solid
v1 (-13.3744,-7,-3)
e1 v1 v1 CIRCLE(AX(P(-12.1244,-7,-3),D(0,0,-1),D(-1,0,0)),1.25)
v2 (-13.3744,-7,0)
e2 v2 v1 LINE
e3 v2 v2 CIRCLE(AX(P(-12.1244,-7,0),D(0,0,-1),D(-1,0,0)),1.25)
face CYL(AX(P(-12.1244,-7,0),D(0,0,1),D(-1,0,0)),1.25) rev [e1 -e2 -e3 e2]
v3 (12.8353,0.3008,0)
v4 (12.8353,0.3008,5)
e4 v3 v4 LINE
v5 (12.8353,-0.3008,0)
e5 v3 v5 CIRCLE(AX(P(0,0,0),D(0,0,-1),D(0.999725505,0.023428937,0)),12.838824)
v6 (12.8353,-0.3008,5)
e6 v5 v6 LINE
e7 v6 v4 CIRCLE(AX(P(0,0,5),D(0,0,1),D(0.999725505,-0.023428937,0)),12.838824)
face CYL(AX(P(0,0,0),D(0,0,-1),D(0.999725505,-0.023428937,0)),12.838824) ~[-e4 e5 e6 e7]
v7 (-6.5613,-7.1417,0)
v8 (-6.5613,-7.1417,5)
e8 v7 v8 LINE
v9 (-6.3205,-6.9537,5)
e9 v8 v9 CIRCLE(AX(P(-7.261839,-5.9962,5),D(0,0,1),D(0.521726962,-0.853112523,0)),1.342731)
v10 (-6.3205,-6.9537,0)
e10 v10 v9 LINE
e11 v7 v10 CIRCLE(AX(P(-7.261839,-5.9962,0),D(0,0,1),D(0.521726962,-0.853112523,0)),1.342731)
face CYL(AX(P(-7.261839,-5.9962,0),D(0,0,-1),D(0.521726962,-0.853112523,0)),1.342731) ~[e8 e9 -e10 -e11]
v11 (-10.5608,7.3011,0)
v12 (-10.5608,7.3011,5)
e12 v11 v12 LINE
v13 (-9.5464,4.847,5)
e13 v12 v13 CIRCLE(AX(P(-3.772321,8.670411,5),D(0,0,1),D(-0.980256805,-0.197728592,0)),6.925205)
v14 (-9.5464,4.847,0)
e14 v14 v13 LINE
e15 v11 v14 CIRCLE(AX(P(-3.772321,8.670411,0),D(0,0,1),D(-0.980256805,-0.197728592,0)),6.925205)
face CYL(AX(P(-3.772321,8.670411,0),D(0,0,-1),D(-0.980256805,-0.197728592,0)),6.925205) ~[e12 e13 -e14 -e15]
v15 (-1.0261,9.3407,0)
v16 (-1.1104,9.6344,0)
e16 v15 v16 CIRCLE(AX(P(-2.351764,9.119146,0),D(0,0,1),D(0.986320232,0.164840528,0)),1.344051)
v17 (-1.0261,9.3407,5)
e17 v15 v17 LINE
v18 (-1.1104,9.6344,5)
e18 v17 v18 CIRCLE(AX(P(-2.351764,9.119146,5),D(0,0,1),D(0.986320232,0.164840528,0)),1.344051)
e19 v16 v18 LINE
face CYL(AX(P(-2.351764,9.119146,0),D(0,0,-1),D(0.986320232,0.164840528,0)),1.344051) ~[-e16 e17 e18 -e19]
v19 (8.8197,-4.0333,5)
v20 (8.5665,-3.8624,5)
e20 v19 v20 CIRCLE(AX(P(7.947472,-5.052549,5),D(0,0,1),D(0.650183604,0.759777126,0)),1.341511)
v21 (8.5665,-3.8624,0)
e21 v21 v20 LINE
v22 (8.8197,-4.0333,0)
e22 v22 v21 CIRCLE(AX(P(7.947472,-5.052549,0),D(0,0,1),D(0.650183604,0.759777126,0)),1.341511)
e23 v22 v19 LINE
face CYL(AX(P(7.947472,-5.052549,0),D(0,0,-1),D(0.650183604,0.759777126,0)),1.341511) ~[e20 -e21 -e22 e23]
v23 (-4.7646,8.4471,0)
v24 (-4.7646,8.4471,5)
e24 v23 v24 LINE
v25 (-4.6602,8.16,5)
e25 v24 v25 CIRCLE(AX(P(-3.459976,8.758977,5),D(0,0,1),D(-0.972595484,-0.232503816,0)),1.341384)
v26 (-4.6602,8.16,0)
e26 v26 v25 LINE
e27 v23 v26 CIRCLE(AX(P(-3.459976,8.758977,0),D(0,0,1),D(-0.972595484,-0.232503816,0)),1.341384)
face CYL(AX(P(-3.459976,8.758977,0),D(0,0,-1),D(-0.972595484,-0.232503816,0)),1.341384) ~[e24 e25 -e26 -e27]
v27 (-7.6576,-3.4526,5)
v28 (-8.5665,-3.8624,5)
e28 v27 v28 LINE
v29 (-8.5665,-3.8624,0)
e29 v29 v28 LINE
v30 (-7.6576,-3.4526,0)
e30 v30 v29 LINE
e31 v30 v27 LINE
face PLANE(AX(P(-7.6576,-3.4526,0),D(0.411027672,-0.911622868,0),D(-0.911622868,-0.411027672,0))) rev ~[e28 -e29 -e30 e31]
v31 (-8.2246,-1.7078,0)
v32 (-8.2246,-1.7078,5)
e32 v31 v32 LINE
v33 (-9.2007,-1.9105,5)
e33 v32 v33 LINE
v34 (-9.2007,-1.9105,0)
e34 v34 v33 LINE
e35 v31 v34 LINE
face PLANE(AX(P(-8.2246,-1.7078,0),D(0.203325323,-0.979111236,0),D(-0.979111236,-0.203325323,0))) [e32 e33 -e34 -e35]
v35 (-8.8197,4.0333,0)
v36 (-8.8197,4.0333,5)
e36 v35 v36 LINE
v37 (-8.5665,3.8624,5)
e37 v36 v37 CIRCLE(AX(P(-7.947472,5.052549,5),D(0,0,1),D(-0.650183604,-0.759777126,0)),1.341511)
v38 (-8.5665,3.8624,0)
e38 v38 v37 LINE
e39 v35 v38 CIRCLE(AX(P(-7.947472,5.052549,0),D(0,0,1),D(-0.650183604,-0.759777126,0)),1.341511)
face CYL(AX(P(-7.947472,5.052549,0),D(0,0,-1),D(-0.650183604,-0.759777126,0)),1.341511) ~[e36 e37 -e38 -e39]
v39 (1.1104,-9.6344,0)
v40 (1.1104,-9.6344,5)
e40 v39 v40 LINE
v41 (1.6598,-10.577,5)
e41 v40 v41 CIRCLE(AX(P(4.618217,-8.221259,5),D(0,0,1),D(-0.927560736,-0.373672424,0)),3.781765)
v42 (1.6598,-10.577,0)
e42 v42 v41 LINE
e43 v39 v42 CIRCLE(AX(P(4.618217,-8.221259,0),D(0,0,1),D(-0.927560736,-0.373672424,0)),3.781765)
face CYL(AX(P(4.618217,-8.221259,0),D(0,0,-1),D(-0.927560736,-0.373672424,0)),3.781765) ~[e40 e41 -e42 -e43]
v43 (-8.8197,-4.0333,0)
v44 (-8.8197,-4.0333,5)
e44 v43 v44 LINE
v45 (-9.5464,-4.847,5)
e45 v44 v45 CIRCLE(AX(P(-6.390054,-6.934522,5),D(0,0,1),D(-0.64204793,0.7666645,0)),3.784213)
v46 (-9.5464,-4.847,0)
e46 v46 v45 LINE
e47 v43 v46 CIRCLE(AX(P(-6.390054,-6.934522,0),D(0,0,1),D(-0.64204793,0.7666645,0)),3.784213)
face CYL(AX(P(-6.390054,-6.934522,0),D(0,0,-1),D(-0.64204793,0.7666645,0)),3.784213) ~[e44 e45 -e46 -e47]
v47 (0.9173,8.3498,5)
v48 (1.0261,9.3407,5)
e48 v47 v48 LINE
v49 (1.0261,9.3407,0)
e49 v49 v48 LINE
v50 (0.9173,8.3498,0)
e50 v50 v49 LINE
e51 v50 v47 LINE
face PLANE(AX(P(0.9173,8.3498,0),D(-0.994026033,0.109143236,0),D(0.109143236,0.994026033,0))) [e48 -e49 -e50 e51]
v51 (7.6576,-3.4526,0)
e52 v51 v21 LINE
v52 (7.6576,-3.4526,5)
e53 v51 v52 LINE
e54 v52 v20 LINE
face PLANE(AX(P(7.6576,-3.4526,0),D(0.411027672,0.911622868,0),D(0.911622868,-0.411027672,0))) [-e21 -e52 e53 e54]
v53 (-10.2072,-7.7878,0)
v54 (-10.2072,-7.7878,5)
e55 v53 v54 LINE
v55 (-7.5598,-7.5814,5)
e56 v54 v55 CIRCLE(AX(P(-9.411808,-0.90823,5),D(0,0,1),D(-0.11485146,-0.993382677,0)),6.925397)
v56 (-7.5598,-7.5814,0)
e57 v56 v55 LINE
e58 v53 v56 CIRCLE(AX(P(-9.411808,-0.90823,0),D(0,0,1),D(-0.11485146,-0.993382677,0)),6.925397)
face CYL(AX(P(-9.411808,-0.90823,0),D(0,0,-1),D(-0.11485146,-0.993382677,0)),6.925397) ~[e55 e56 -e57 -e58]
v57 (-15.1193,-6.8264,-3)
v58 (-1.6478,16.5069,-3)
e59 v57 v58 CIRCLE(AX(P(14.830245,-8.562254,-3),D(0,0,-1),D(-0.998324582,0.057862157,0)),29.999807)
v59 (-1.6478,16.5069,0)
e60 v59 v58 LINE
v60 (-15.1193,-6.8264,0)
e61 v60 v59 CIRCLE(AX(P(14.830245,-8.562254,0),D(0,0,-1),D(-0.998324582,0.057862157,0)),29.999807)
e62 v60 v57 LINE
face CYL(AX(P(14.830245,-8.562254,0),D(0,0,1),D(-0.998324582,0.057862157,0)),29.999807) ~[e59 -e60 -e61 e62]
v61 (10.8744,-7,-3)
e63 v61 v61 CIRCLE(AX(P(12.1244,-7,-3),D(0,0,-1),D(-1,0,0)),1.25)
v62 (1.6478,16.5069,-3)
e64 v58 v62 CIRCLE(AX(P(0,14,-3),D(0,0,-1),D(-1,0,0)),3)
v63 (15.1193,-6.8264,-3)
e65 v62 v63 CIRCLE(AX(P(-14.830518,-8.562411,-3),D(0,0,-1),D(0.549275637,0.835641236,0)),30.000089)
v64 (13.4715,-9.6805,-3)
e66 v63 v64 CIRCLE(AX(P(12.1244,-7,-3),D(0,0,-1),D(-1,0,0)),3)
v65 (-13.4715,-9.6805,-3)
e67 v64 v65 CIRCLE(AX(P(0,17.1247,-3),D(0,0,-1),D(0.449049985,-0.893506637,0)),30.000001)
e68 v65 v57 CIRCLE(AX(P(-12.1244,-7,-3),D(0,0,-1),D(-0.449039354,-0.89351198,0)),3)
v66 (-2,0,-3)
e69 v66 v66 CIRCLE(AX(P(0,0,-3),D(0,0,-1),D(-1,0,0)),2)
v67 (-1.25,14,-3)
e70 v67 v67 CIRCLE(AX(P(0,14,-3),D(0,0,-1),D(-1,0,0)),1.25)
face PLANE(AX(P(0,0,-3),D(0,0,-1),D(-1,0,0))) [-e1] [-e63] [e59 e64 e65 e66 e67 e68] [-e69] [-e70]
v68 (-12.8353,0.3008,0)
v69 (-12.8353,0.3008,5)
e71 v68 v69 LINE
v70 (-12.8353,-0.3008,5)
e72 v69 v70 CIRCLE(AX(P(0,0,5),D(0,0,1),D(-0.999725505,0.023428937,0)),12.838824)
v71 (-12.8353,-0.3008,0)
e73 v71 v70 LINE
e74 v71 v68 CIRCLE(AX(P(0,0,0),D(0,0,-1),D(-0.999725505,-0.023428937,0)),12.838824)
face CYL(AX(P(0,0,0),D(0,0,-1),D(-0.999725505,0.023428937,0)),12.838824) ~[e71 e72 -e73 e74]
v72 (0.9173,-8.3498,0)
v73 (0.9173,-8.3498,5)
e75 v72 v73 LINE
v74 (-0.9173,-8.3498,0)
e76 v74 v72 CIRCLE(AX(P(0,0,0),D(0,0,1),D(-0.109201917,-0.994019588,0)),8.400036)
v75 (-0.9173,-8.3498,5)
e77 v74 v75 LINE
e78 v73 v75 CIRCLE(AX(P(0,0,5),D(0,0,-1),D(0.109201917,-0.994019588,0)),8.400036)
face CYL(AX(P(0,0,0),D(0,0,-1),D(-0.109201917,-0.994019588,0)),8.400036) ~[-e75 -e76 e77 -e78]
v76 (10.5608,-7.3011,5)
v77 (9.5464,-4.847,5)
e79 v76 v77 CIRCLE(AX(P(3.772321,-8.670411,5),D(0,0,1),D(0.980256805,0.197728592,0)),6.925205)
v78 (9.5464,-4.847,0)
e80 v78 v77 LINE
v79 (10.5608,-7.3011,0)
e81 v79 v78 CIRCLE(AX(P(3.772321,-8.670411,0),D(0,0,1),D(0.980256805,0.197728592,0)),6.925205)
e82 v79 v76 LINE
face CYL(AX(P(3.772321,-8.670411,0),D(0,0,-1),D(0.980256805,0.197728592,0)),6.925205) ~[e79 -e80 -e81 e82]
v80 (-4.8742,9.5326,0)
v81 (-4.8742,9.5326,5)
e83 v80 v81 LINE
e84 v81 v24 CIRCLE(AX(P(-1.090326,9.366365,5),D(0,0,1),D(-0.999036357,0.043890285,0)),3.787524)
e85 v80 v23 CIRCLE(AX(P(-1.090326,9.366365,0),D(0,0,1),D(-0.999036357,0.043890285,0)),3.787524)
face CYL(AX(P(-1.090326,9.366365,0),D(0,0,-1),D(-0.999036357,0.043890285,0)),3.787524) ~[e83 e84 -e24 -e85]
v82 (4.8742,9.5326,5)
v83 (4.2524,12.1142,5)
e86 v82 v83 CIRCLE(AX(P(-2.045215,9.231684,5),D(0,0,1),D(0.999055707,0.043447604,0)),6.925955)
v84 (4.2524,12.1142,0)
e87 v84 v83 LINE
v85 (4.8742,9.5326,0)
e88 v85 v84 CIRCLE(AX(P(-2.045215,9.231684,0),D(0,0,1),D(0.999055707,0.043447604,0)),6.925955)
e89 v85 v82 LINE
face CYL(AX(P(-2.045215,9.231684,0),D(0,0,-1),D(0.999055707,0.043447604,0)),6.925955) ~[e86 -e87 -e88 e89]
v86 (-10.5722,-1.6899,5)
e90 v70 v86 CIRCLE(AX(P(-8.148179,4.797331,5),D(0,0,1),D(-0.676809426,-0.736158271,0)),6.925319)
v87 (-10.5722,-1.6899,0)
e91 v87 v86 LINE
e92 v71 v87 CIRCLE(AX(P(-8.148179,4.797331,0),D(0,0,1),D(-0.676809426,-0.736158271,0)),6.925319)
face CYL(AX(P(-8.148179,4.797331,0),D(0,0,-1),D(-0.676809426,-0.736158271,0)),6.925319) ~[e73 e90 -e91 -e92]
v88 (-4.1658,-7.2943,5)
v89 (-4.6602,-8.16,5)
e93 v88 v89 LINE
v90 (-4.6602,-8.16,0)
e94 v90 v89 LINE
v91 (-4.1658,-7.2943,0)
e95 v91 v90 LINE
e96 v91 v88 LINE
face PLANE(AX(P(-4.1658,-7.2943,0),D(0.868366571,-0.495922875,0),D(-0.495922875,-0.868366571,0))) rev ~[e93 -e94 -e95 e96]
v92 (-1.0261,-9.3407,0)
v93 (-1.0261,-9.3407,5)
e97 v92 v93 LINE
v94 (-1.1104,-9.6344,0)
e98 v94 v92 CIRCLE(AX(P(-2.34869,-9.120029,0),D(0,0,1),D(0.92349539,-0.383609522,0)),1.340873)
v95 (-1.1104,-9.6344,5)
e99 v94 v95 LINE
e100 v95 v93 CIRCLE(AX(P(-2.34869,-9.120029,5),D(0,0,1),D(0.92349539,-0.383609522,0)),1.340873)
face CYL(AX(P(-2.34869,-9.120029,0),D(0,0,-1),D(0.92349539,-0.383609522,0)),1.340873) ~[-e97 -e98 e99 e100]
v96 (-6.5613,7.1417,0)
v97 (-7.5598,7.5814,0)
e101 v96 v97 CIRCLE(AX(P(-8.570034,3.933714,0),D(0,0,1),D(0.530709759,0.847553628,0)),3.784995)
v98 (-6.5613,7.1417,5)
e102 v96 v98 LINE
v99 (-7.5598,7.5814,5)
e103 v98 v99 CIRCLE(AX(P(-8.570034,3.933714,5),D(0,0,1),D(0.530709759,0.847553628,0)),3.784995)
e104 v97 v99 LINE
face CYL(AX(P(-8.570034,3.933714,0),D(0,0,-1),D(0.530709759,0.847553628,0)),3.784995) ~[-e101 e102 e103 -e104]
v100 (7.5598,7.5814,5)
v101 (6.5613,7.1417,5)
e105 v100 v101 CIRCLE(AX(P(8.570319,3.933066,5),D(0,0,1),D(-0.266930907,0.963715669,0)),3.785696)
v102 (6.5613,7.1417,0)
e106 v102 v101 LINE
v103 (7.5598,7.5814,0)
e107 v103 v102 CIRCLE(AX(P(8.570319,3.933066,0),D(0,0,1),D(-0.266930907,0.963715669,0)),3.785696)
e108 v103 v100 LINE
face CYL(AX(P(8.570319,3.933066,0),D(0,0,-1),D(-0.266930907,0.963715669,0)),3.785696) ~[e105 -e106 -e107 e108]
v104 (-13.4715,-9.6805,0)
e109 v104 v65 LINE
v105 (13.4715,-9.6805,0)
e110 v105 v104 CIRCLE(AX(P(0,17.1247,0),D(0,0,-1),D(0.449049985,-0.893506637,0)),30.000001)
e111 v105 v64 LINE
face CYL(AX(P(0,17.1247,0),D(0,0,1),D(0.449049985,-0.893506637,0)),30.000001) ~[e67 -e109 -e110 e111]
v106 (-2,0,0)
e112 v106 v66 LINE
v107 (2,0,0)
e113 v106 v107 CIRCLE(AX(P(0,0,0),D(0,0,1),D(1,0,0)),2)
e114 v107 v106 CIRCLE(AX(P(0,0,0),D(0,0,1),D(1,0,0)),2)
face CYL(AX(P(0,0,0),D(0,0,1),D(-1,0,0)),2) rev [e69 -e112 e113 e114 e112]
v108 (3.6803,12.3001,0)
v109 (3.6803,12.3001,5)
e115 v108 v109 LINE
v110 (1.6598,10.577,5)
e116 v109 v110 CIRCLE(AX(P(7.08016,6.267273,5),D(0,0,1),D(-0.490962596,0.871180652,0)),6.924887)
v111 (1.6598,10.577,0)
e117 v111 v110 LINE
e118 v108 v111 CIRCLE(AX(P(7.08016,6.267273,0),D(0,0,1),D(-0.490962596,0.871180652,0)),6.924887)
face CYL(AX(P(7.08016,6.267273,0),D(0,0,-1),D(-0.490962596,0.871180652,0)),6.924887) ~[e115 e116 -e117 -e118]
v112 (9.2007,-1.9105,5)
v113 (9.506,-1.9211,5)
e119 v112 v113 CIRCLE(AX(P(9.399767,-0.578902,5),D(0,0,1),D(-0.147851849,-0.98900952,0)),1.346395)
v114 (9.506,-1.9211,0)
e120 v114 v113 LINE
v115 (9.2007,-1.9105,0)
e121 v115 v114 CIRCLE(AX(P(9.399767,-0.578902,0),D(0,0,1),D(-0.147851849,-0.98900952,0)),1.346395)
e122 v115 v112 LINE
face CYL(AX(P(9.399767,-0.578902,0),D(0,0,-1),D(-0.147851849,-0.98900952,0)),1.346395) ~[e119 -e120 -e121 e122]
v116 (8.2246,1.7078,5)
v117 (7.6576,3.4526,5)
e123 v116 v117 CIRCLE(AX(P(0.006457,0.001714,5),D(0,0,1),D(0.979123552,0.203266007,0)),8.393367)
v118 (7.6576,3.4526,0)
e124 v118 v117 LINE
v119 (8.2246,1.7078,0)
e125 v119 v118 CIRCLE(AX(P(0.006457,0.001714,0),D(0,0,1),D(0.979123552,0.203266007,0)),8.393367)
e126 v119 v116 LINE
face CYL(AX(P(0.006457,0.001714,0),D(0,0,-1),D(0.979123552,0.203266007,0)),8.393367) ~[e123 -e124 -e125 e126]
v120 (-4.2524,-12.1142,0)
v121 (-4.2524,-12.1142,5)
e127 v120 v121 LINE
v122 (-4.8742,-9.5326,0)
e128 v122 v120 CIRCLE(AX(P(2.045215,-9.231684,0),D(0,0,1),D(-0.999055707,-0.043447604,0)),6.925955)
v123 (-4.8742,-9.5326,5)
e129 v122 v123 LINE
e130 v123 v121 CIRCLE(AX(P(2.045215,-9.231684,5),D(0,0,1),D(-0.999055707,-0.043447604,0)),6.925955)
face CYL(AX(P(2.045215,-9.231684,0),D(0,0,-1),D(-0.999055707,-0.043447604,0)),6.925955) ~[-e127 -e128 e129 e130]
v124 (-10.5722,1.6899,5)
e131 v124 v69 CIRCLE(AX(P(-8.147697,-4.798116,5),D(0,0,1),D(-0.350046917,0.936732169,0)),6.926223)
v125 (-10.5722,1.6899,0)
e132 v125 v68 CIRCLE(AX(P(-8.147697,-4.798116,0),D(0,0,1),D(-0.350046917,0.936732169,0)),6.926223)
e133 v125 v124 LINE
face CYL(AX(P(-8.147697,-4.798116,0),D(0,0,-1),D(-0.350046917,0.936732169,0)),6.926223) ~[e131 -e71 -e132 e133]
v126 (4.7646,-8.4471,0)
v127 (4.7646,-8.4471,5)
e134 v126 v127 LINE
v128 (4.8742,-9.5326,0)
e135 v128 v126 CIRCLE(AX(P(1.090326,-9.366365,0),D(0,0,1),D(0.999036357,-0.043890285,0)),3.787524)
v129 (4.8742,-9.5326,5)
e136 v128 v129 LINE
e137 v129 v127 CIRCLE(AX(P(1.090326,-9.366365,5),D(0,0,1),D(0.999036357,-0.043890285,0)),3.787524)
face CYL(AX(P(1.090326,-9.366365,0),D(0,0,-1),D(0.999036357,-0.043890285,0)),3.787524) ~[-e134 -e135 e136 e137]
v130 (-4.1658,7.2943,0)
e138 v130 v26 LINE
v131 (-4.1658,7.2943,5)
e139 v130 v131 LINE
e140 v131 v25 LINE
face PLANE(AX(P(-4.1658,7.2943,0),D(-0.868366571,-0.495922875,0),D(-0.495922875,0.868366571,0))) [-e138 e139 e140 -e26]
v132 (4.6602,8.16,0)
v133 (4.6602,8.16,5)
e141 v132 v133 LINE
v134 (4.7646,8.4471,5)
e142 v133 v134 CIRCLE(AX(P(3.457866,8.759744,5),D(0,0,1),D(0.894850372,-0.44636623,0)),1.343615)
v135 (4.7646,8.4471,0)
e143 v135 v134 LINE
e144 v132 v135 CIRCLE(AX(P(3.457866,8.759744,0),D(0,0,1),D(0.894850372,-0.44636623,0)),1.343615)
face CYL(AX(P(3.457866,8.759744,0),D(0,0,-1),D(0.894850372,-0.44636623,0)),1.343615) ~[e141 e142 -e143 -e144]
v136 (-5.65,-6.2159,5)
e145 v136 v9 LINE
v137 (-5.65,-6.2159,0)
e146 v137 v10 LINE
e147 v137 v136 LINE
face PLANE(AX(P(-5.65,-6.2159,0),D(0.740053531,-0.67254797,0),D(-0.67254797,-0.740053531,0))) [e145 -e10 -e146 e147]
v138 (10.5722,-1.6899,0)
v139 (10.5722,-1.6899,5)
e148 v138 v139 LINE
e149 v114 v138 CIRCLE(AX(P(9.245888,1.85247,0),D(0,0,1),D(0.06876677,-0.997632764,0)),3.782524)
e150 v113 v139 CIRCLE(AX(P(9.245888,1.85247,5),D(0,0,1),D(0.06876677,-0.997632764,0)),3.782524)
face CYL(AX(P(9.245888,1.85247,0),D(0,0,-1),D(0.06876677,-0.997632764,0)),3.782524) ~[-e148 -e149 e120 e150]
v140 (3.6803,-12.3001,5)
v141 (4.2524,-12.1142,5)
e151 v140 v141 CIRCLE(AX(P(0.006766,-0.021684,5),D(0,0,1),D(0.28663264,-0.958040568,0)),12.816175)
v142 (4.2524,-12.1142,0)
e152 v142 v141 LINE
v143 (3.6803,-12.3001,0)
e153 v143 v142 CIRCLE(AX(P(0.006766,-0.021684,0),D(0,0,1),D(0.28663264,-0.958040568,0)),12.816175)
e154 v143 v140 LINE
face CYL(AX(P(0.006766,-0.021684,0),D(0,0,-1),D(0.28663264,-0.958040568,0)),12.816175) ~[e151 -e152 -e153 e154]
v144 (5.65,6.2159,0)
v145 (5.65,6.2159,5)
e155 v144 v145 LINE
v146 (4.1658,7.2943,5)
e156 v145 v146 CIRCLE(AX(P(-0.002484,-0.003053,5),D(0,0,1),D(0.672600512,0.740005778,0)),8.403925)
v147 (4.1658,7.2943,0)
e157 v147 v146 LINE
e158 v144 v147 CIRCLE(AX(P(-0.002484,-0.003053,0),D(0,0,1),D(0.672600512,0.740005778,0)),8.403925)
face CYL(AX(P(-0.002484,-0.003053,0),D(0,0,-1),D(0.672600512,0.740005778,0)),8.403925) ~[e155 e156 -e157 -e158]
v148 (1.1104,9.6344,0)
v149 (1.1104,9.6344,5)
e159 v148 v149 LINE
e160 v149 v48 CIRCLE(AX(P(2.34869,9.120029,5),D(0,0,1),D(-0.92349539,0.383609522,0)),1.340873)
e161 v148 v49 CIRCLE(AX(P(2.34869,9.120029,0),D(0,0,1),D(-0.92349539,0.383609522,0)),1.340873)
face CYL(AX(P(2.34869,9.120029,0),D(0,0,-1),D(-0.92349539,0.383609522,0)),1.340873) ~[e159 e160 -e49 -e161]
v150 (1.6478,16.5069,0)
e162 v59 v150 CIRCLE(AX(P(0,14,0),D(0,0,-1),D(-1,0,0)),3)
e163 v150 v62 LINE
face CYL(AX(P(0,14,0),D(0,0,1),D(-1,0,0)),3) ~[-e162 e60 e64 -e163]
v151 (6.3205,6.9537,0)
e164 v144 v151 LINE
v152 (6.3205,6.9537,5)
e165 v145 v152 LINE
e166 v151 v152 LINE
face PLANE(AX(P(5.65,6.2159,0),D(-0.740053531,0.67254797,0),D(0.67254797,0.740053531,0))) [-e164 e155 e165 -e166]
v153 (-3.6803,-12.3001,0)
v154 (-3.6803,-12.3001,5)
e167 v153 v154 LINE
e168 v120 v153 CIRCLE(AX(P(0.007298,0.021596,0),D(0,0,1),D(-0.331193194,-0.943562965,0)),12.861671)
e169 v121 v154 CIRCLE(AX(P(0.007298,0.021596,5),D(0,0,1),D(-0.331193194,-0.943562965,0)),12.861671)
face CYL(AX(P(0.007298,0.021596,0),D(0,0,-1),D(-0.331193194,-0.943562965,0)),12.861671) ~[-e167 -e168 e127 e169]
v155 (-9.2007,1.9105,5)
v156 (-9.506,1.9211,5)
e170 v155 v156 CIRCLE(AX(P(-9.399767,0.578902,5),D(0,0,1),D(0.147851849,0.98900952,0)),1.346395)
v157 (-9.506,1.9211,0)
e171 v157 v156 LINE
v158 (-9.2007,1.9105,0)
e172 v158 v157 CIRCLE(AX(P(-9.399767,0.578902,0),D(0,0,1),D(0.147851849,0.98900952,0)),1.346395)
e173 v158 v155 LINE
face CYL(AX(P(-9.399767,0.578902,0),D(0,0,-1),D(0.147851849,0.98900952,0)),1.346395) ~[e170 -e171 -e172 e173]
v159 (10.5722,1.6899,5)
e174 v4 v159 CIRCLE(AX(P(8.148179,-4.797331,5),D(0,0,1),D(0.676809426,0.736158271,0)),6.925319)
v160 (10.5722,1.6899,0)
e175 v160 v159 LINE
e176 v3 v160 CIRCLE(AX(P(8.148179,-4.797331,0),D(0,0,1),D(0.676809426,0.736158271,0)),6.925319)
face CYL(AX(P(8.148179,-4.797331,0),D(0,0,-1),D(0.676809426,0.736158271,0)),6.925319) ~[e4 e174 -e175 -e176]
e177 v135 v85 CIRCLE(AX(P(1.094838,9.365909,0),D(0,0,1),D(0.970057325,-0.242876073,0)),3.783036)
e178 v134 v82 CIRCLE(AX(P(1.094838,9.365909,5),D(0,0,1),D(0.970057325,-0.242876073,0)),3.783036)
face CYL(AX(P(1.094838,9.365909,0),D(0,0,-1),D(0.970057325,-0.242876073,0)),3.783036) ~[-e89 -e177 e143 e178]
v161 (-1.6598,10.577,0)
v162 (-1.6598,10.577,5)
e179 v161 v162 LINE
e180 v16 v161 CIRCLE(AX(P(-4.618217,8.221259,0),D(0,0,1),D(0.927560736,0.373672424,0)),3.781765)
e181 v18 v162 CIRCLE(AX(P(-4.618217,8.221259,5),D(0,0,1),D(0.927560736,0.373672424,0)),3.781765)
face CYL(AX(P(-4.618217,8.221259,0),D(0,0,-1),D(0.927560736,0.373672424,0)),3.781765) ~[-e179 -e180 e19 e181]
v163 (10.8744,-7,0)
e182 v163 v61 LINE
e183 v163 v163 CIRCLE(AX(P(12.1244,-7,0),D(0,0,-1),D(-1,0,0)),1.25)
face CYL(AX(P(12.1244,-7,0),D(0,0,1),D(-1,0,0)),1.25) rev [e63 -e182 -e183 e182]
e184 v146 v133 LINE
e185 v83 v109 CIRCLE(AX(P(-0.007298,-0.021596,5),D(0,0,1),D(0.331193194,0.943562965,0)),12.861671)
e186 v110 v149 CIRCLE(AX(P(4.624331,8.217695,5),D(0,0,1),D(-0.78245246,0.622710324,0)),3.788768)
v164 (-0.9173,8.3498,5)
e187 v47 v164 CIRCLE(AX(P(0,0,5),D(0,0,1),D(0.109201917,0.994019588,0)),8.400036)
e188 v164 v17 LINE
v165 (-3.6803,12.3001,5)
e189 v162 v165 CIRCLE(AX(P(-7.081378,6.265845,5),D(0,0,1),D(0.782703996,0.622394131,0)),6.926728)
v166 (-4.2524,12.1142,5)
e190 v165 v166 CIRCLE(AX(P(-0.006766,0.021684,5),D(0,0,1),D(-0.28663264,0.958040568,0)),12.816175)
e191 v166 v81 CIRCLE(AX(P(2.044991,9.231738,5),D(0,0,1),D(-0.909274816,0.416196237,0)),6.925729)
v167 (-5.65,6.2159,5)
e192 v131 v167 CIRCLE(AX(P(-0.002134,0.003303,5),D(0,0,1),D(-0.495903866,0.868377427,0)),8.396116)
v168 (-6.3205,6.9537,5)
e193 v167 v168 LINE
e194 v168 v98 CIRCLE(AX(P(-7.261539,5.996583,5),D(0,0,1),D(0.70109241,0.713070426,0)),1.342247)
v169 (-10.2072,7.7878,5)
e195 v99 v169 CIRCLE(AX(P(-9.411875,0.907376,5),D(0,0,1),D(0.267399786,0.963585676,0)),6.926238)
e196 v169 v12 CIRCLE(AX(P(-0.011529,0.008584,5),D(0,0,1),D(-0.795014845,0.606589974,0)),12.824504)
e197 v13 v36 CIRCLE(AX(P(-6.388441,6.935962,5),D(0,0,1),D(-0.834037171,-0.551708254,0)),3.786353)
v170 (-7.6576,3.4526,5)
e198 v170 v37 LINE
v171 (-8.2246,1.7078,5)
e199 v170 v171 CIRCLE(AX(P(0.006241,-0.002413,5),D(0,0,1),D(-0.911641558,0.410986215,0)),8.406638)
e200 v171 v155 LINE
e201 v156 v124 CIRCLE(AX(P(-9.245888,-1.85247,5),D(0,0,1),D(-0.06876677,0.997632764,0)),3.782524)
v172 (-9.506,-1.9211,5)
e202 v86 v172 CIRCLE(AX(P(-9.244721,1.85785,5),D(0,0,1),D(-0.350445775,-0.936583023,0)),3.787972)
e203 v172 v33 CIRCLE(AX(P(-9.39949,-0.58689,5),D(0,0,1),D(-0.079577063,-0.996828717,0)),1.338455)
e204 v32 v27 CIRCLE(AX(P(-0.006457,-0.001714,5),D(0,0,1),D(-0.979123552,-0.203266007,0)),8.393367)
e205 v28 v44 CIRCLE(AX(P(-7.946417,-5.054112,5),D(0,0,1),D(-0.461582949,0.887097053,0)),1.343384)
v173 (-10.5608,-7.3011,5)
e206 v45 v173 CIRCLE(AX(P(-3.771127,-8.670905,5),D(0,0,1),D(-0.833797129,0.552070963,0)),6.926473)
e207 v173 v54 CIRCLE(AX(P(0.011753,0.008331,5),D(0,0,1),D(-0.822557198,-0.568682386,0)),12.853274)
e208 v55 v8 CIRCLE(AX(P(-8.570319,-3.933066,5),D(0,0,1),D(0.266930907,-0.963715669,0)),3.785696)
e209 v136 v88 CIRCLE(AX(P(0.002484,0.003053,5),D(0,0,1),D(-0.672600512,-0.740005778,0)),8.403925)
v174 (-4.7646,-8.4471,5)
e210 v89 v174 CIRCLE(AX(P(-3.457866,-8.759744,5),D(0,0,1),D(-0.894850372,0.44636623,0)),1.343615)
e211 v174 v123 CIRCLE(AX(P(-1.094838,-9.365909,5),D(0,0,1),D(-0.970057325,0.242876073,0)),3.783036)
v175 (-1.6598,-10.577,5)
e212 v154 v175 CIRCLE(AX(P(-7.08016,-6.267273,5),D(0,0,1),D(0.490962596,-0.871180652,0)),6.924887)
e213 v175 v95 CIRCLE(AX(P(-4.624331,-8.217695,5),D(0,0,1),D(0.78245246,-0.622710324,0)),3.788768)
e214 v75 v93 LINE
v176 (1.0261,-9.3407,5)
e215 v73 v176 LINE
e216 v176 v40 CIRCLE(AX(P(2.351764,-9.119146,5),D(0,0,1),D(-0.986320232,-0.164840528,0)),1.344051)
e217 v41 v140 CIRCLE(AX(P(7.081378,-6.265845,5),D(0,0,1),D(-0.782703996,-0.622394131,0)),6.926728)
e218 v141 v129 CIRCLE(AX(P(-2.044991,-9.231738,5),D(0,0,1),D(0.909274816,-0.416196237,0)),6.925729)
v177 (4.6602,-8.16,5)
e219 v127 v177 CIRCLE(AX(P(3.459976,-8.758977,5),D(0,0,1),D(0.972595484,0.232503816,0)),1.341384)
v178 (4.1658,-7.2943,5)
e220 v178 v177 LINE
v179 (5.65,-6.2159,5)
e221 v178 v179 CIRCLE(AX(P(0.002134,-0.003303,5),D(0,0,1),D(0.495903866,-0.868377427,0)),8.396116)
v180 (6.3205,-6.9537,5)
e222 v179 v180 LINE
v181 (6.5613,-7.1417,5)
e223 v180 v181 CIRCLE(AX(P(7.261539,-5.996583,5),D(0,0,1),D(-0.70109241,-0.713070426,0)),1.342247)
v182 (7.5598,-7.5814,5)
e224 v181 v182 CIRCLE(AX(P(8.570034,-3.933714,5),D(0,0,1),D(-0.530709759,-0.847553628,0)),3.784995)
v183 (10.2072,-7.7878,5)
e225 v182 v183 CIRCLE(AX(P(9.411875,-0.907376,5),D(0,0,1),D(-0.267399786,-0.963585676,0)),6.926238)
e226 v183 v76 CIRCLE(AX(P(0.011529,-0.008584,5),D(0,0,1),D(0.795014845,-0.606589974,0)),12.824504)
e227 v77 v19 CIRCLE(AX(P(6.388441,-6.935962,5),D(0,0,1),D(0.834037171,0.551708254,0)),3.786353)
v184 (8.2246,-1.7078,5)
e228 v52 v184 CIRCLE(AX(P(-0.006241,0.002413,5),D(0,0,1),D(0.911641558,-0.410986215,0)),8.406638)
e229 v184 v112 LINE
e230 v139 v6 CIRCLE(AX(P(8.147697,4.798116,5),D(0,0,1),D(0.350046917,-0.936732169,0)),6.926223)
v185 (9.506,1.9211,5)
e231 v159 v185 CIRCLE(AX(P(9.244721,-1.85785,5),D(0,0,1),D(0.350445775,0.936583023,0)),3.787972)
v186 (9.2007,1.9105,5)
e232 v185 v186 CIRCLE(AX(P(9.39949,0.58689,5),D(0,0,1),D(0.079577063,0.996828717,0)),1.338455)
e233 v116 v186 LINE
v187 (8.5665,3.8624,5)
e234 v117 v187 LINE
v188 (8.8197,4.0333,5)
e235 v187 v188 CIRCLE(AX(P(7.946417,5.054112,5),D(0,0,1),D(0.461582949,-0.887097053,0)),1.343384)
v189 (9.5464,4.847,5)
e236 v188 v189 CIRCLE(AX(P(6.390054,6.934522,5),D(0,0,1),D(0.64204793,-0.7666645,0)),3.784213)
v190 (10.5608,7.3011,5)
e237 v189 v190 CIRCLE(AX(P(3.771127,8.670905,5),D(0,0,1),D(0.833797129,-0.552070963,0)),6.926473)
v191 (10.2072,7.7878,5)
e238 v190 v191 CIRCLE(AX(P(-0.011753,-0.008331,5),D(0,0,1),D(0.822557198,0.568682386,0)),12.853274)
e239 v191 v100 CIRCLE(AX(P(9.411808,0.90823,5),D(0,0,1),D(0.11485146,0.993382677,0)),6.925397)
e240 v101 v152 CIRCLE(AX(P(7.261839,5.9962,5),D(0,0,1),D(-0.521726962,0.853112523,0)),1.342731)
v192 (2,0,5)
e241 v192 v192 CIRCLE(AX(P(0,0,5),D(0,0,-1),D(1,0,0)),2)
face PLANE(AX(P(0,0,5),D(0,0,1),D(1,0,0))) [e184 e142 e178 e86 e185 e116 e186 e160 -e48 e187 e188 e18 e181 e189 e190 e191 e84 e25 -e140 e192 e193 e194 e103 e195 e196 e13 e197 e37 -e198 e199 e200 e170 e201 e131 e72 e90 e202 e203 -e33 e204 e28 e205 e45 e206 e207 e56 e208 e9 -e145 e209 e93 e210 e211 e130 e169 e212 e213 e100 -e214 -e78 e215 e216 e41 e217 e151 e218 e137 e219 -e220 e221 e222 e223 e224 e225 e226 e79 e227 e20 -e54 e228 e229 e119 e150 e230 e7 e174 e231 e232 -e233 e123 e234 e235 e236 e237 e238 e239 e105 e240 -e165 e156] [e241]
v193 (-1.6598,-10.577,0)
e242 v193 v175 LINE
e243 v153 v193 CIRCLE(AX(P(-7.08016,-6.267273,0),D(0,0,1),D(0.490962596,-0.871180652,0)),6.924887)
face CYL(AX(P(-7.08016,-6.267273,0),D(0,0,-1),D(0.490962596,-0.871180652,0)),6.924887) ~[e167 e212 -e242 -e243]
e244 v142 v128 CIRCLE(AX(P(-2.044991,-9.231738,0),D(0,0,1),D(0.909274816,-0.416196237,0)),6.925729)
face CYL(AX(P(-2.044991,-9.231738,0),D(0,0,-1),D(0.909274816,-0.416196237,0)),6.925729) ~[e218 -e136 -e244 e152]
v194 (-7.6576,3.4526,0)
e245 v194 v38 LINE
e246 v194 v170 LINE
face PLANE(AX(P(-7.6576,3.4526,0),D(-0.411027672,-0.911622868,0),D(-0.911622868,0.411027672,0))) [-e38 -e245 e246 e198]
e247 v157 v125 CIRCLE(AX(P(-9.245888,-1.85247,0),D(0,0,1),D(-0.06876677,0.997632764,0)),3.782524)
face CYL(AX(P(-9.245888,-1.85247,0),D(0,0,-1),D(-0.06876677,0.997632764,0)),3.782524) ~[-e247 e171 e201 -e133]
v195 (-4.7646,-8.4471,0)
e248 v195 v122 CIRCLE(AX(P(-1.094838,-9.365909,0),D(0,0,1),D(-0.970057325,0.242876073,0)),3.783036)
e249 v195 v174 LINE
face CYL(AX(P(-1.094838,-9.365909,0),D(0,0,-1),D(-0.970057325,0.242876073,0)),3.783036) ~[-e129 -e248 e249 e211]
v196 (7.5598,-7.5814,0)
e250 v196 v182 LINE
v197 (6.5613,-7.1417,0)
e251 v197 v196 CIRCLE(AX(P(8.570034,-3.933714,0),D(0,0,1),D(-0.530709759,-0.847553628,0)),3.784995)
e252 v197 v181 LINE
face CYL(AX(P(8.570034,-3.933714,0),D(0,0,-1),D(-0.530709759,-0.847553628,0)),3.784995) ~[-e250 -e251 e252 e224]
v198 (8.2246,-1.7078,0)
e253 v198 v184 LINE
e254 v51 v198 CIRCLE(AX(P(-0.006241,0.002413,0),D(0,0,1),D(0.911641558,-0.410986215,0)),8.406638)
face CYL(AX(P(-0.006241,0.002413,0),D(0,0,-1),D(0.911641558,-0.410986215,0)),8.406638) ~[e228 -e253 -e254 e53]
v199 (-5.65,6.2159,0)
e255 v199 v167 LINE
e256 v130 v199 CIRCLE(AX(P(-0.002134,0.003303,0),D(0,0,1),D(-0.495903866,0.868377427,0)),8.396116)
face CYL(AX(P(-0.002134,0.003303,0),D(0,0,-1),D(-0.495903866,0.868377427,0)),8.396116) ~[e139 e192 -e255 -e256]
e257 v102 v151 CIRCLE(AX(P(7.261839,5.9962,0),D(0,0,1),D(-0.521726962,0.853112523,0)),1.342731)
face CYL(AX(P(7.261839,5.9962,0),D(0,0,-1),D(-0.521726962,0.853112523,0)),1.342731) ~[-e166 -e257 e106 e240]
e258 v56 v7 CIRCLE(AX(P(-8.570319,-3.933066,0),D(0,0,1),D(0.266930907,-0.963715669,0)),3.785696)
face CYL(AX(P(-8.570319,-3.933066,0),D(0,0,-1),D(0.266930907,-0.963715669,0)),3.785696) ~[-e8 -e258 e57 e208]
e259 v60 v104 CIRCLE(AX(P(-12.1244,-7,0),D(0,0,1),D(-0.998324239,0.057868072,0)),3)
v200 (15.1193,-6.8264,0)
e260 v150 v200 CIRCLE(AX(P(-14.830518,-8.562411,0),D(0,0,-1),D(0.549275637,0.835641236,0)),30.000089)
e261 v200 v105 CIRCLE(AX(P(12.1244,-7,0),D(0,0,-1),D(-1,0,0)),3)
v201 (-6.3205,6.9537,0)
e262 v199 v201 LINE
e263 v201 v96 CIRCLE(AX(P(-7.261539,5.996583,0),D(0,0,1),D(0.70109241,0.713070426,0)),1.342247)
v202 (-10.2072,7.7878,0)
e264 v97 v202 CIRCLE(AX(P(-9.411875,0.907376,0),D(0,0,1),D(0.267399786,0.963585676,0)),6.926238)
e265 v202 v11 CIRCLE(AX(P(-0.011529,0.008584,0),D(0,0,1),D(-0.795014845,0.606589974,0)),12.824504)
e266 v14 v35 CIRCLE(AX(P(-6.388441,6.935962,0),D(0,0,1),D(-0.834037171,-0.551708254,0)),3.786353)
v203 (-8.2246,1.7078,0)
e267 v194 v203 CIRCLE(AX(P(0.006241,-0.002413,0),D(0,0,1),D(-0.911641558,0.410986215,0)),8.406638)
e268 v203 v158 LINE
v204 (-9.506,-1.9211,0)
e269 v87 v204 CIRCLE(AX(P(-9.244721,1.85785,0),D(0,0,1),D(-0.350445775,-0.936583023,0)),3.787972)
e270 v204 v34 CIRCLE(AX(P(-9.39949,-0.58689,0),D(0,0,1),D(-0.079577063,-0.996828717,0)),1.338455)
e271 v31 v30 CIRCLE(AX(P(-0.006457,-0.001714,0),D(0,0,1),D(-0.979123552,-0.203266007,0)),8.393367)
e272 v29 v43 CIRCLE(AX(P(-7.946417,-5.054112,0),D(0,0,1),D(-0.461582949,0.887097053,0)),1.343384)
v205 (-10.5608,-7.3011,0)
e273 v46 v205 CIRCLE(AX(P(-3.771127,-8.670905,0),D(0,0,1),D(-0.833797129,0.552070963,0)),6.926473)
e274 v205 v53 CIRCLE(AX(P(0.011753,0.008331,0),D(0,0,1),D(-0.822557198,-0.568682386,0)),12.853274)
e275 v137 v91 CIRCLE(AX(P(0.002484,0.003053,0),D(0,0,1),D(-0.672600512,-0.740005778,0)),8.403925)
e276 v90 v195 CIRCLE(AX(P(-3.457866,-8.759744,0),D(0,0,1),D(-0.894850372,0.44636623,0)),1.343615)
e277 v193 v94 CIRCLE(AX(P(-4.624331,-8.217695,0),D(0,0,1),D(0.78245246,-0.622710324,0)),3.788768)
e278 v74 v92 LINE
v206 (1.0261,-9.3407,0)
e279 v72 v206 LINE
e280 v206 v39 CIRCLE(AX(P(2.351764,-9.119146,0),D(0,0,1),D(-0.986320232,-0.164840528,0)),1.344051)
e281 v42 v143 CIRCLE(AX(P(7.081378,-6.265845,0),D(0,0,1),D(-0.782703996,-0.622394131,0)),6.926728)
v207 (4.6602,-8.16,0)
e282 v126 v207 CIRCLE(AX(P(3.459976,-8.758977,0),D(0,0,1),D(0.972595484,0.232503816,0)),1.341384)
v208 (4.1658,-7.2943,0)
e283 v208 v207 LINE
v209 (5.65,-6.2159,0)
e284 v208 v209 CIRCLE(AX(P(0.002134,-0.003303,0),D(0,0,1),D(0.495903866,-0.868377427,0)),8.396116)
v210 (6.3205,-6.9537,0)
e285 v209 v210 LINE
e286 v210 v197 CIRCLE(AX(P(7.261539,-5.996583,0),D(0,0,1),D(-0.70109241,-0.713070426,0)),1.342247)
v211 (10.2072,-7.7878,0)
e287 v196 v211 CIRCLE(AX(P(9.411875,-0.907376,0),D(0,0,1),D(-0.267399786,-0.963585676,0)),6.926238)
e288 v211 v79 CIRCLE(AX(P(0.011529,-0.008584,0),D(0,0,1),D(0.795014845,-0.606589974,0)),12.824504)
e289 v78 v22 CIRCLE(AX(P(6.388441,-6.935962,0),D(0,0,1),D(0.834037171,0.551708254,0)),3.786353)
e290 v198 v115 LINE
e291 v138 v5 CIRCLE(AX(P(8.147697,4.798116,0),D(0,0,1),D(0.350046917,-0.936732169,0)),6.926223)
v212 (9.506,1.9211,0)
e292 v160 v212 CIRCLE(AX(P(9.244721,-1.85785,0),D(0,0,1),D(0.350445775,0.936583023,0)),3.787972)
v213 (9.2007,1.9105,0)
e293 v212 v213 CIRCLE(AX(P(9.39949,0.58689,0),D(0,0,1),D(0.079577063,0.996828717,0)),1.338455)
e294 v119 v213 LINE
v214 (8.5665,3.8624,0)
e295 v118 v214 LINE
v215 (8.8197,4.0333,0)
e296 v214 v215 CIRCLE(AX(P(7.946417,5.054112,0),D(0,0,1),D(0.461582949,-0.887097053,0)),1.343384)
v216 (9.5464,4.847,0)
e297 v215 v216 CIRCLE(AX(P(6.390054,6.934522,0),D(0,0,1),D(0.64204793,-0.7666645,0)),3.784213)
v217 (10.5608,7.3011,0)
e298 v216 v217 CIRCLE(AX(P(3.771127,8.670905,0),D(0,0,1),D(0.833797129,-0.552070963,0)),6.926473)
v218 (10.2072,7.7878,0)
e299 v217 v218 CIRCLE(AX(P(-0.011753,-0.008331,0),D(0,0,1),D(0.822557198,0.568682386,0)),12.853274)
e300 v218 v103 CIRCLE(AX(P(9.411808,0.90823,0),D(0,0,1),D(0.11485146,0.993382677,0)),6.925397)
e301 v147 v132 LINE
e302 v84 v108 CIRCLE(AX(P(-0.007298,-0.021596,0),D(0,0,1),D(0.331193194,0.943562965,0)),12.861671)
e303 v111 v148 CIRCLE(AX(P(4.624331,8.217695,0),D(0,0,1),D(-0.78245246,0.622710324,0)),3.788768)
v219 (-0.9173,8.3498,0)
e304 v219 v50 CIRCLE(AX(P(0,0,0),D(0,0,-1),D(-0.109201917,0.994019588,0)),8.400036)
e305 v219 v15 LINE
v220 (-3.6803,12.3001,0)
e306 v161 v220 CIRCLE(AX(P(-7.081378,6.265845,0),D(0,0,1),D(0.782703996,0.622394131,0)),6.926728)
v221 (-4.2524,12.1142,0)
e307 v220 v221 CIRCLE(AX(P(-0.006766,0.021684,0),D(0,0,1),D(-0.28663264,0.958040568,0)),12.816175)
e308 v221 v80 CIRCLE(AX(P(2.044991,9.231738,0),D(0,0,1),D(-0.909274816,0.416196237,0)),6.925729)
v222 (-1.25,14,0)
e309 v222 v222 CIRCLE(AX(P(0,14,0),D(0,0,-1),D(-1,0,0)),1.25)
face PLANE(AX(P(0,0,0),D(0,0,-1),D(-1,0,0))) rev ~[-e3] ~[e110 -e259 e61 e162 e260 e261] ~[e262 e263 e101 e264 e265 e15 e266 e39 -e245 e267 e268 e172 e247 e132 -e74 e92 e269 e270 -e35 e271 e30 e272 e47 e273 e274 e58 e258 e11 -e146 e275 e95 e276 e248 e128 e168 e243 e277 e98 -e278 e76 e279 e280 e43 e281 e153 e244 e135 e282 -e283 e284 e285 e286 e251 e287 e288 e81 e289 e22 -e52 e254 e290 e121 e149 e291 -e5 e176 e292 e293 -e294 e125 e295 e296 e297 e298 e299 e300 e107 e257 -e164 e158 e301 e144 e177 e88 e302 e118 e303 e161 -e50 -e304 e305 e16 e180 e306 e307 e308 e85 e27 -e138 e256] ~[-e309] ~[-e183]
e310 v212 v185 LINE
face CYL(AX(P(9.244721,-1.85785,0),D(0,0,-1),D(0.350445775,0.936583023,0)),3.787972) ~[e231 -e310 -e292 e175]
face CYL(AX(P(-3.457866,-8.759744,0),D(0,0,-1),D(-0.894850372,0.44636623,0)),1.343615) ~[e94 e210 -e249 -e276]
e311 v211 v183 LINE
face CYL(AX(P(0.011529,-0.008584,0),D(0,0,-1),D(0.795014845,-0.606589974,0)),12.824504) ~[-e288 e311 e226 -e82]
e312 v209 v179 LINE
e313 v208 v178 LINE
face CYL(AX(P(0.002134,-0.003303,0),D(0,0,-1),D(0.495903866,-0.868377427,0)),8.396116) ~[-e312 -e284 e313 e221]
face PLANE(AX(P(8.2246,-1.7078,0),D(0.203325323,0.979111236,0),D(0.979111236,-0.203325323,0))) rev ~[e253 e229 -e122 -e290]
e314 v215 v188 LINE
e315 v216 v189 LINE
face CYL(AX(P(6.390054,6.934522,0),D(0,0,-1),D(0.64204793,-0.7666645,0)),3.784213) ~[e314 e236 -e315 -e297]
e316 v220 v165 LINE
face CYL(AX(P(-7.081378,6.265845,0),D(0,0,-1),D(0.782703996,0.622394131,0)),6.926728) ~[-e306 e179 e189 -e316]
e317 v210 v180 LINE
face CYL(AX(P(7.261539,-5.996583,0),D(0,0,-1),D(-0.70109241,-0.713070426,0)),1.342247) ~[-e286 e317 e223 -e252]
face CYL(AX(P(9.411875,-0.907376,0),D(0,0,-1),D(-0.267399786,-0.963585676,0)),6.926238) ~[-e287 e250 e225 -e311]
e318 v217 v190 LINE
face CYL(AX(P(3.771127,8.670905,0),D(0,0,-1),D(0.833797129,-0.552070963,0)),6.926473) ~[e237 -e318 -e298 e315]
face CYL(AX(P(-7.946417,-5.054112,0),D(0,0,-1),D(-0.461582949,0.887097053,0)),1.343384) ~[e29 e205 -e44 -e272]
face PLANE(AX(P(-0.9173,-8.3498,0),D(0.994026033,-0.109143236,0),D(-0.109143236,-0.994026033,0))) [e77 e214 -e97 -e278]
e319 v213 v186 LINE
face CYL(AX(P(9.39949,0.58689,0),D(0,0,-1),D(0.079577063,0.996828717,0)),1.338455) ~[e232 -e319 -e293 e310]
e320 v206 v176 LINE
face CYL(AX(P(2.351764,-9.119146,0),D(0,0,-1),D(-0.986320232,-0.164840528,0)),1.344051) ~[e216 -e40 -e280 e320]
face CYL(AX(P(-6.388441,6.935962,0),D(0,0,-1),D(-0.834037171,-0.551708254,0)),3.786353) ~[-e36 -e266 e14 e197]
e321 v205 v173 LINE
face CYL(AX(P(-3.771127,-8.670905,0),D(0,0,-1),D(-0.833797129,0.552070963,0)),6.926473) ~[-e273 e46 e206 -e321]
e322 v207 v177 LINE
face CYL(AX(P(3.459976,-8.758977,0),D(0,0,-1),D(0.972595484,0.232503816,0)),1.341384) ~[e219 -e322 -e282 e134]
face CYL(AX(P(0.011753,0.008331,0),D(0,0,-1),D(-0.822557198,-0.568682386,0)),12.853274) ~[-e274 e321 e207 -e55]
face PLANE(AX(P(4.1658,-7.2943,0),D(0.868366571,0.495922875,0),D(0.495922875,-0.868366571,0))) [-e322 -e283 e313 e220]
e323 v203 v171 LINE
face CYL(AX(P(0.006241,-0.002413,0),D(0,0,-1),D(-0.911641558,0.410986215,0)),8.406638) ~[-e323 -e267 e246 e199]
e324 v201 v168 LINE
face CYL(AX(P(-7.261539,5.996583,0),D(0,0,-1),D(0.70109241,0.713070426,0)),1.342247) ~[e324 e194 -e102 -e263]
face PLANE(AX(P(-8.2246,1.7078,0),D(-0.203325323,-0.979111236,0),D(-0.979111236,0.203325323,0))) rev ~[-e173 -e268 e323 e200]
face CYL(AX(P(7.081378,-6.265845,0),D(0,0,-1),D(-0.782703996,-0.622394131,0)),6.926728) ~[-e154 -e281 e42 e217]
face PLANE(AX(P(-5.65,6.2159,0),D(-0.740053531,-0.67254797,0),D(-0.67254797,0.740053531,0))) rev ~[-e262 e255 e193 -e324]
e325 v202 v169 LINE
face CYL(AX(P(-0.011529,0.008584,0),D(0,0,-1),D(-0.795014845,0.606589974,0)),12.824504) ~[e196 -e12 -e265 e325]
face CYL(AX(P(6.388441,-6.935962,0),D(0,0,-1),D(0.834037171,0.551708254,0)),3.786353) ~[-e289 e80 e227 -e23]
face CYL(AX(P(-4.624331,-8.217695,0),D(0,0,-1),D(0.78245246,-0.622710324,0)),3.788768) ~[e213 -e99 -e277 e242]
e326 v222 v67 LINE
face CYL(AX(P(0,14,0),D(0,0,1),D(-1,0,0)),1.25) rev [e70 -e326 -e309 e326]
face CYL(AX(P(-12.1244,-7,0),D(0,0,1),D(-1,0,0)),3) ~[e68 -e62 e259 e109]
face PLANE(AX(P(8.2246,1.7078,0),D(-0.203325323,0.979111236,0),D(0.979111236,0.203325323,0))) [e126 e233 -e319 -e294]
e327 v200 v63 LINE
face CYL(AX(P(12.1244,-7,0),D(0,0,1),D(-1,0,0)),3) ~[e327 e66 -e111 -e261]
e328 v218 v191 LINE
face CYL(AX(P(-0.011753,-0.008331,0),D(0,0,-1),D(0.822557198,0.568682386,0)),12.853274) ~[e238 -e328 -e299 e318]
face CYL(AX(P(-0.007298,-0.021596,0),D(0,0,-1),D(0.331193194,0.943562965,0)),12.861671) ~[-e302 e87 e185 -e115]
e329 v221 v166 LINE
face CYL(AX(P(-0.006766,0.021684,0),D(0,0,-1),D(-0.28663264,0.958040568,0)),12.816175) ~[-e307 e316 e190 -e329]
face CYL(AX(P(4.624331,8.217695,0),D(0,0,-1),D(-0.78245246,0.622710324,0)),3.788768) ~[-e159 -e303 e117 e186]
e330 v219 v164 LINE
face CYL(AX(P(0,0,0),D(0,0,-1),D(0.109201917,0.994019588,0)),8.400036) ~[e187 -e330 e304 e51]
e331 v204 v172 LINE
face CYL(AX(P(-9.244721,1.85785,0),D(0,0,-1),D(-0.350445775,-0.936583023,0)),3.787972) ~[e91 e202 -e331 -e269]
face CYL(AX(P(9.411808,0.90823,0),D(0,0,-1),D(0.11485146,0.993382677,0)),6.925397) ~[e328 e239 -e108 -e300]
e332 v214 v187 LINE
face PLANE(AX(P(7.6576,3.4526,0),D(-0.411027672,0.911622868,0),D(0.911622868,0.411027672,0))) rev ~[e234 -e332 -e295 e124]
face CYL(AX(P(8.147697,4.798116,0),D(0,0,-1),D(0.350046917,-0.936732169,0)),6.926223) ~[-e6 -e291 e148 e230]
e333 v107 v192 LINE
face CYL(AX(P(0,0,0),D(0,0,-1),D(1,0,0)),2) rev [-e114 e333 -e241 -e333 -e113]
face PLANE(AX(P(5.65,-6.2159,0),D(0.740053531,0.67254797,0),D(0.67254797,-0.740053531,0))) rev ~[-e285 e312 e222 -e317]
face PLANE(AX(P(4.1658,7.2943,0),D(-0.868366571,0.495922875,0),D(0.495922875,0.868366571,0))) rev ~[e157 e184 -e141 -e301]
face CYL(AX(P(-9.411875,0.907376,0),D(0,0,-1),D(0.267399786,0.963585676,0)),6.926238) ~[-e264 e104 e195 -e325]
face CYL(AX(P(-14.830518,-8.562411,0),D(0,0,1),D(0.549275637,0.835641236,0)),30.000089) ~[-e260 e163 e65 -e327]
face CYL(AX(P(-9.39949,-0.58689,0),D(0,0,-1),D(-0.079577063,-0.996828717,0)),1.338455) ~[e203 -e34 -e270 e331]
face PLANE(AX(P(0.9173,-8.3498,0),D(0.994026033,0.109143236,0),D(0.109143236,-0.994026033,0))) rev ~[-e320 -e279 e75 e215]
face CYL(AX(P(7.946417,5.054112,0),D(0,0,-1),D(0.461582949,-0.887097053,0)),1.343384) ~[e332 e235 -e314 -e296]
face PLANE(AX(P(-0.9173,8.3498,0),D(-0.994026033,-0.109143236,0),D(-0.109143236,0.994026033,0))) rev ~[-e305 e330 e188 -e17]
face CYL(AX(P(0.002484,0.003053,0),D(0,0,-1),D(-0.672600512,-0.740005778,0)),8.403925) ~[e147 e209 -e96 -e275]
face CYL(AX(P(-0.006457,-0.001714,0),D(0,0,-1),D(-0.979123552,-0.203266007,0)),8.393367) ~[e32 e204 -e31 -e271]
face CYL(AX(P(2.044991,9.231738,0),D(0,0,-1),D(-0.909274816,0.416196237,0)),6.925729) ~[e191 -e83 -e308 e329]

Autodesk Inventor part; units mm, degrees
ref_plane "YZ Plane" through (0, 0, 0) normal (1, 0, 0) x (0, 1, 0)
ref_plane "XZ Plane" through (0, 0, 0) normal (0, 1, 0) x (-1, 0, 0)
ref_plane "XY Plane" through (0, 0, 0) normal (0, 0, 1) x (1, 0, 0)
sketch "Sketch1" plane through (0, 0, 0) normal (0, 0, 1) x (1, 0, 0)
  line L0 (0, -14) -> (0, 14)
  arc A0 (1.1104, 9.6344) -> (1.0261, 9.3407) centre (2.3502, 9.1195) ccw
  arc A1 (1.6598, 10.577) -> (1.1104, 9.6344) centre (4.6214, 8.2197) ccw
  arc A2 (3.6803, 12.3001) -> (1.6598, 10.577) centre (7.0807, 6.2665) ccw
  arc A3 (-4.7646, 8.4471) -> (-4.6602, 8.16) centre (-3.4589, 8.7593) ccw
  arc A4 (-4.8742, 9.5326) -> (-4.7646, 8.4471) centre (-1.0926, 9.3663) ccw
  arc A5 (-4.2524, 12.1142) -> (-4.8742, 9.5326) centre (2.0451, 9.2317) ccw
  arc A6 (-8.8197, 4.0333) -> (-8.5665, 3.8624) centre (-7.9469, 5.0533) ccw
  arc A7 (-9.5464, 4.847) -> (-8.8197, 4.0333) centre (-6.3893, 6.9353) ccw
  arc A8 (-10.5608, 7.3011) -> (-9.5464, 4.847) centre (-3.7717, 8.6706) ccw
  arc A9 (-9.506, -1.9211) -> (-9.2007, -1.9105) centre (-9.3994, -0.5829) ccw
  arc A10 (-10.5722, -1.6899) -> (-9.506, -1.9211) centre (-9.2455, 1.8552) ccw
  arc A11 (-12.8353, -0.3008) -> (-10.5722, -1.6899) centre (-8.1479, 4.7977) ccw
  arc A12 (-6.5613, -7.1417) -> (-6.3205, -6.9537) centre (-7.2617, -5.9964) ccw
  arc A13 (-7.5598, -7.5814) -> (-6.5613, -7.1417) centre (-8.5702, -3.9334) ccw
  arc A14 (-10.2072, -7.7878) -> (-7.5598, -7.5814) centre (-9.4118, -0.9078) ccw
  arc A15 (-1.1104, -9.6344) -> (-1.0261, -9.3407) centre (-2.3502, -9.1195) ccw
  arc A16 (-1.6598, -10.577) -> (-1.1104, -9.6344) centre (-4.6214, -8.2197) ccw
  arc A17 (-3.6803, -12.3001) -> (-1.6598, -10.577) centre (-7.0807, -6.2665) ccw
  arc A18 (4.7646, -8.4471) -> (4.6602, -8.16) centre (3.4589, -8.7593) ccw
  arc A19 (4.8742, -9.5326) -> (4.7646, -8.4471) centre (1.0926, -9.3663) ccw
  arc A20 (4.2524, -12.1142) -> (4.8742, -9.5326) centre (-2.0451, -9.2317) ccw
  arc A21 (8.8197, -4.0333) -> (8.5665, -3.8624) centre (7.9469, -5.0533) ccw
  arc A22 (9.5464, -4.847) -> (8.8197, -4.0333) centre (6.3893, -6.9353) ccw
  arc A23 (10.5608, -7.3011) -> (9.5464, -4.847) centre (3.7717, -8.6706) ccw
  arc A24 (9.506, 1.9211) -> (9.2007, 1.9105) centre (9.3994, 0.5829) ccw
  arc A25 (10.5722, 1.6899) -> (9.506, 1.9211) centre (9.2455, -1.8552) ccw
  arc A26 (12.8353, 0.3008) -> (10.5722, 1.6899) centre (8.1479, -4.7977) ccw
  arc A27 (6.5613, 7.1417) -> (6.3205, 6.9537) centre (7.2617, 5.9964) ccw
  arc A28 (7.5598, 7.5814) -> (6.5613, 7.1417) centre (8.5702, 3.9334) ccw
  arc A29 (10.2072, 7.7878) -> (7.5598, 7.5814) centre (9.4118, 0.9078) ccw
  arc A30 (-1.0261, 9.3407) -> (-1.1104, 9.6344) centre (-2.3502, 9.1195) ccw
  arc A31 (-1.1104, 9.6344) -> (-1.6598, 10.577) centre (-4.6214, 8.2197) ccw
  arc A32 (-1.6598, 10.577) -> (-3.6803, 12.3001) centre (-7.0807, 6.2665) ccw
  arc A33 (-6.3205, 6.9537) -> (-6.5613, 7.1417) centre (-7.2617, 5.9964) ccw
  arc A34 (-6.5613, 7.1417) -> (-7.5598, 7.5814) centre (-8.5702, 3.9334) ccw
  arc A35 (-7.5598, 7.5814) -> (-10.2072, 7.7878) centre (-9.4118, 0.9078) ccw
  arc A36 (-9.2007, 1.9105) -> (-9.506, 1.9211) centre (-9.3994, 0.5829) ccw
  arc A37 (-9.506, 1.9211) -> (-10.5722, 1.6899) centre (-9.2455, -1.8552) ccw
  arc A38 (-10.5722, 1.6899) -> (-12.8353, 0.3008) centre (-8.1479, -4.7977) ccw
  arc A39 (-8.5665, -3.8624) -> (-8.8197, -4.0333) centre (-7.9469, -5.0533) ccw
  arc A40 (-8.8197, -4.0333) -> (-9.5464, -4.847) centre (-6.3893, -6.9353) ccw
  arc A41 (-9.5464, -4.847) -> (-10.5608, -7.3011) centre (-3.7717, -8.6706) ccw
  arc A42 (-4.6602, -8.16) -> (-4.7646, -8.4471) centre (-3.4589, -8.7593) ccw
  arc A43 (-4.7646, -8.4471) -> (-4.8742, -9.5326) centre (-1.0926, -9.3663) ccw
  arc A44 (-4.8742, -9.5326) -> (-4.2524, -12.1142) centre (2.0451, -9.2317) ccw
  arc A45 (1.0261, -9.3407) -> (1.1104, -9.6344) centre (2.3502, -9.1195) ccw
  arc A46 (1.1104, -9.6344) -> (1.6598, -10.577) centre (4.6214, -8.2197) ccw
  arc A47 (1.6598, -10.577) -> (3.6803, -12.3001) centre (7.0807, -6.2665) ccw
  arc A48 (6.3205, -6.9537) -> (6.5613, -7.1417) centre (7.2617, -5.9964) ccw
  arc A49 (6.5613, -7.1417) -> (7.5598, -7.5814) centre (8.5702, -3.9334) ccw
  arc A50 (7.5598, -7.5814) -> (10.2072, -7.7878) centre (9.4118, -0.9078) ccw
  arc A51 (9.2007, -1.9105) -> (9.506, -1.9211) centre (9.3994, -0.5829) ccw
  arc A52 (9.506, -1.9211) -> (10.5722, -1.6899) centre (9.2455, 1.8552) ccw
  arc A53 (10.5722, -1.6899) -> (12.8353, -0.3008) centre (8.1479, 4.7977) ccw
  arc A54 (8.5665, 3.8624) -> (8.8197, 4.0333) centre (7.9469, 5.0533) ccw
  arc A55 (8.8197, 4.0333) -> (9.5464, 4.847) centre (6.3893, 6.9353) ccw
  arc A56 (9.5464, 4.847) -> (10.5608, 7.3011) centre (3.7717, 8.6706) ccw
  arc A57 (4.6602, 8.16) -> (4.7646, 8.4471) centre (3.4589, 8.7593) ccw
  arc A58 (4.7646, 8.4471) -> (4.8742, 9.5326) centre (1.0926, 9.3663) ccw
  arc A59 (4.8742, 9.5326) -> (4.2524, 12.1142) centre (-2.0451, 9.2317) ccw
  arc A60 (0.9173, 8.3498) -> (-0.9173, 8.3498) centre (0, 0) ccw
  arc A61 (-4.1658, 7.2943) -> (-5.65, 6.2159) centre (0, 0) ccw
  arc A62 (-7.6576, 3.4526) -> (-8.2246, 1.7078) centre (0, 0) ccw
  arc A63 (-8.2246, -1.7078) -> (-7.6576, -3.4526) centre (0, 0) ccw
  arc A64 (-5.65, -6.2159) -> (-4.1658, -7.2943) centre (0, 0) ccw
  arc A65 (-0.9173, -8.3498) -> (0.9173, -8.3498) centre (0, 0) ccw
  arc A66 (4.1658, -7.2943) -> (5.65, -6.2159) centre (0, 0) ccw
  arc A67 (7.6576, -3.4526) -> (8.2246, -1.7078) centre (0, 0) ccw
  arc A68 (8.2246, 1.7078) -> (7.6576, 3.4526) centre (0, 0) ccw
  arc A69 (5.65, 6.2159) -> (4.1658, 7.2943) centre (0, 0) ccw
  arc A70 (-3.6803, 12.3001) -> (-4.2524, 12.1142) centre (0, 0) ccw
  arc A71 (-10.2072, 7.7878) -> (-10.5608, 7.3011) centre (0, 0) ccw
  arc A72 (-12.8353, 0.3008) -> (-12.8353, -0.3008) centre (0, 0) ccw
  arc A73 (-10.5608, -7.3011) -> (-10.2072, -7.7878) centre (0, 0) ccw
  arc A74 (-4.2524, -12.1142) -> (-3.6803, -12.3001) centre (0, 0) ccw
  arc A75 (3.6803, -12.3001) -> (4.2524, -12.1142) centre (0, 0) ccw
  arc A76 (10.2072, -7.7878) -> (10.5608, -7.3011) centre (0, 0) ccw
  arc A77 (12.8353, -0.3008) -> (12.8353, 0.3008) centre (0, 0) ccw
  arc A78 (10.5608, 7.3011) -> (10.2072, 7.7878) centre (0, 0) ccw
  arc A79 (4.2524, 12.1142) -> (3.6803, 12.3001) centre (0, 0) ccw
  line L1 (0.9173, 8.3498) -> (1.0261, 9.3407)
  line L2 (-4.1658, 7.2943) -> (-4.6602, 8.16)
  line L3 (-7.6576, 3.4526) -> (-8.5665, 3.8624)
  line L4 (-8.2246, -1.7078) -> (-9.2007, -1.9105)
  line L5 (-5.65, -6.2159) -> (-6.3205, -6.9537)
  line L6 (-0.9173, -8.3498) -> (-1.0261, -9.3407)
  line L7 (4.1658, -7.2943) -> (4.6602, -8.16)
  line L8 (7.6576, -3.4526) -> (8.5665, -3.8624)
  line L9 (8.2246, 1.7078) -> (9.2007, 1.9105)
  line L10 (5.65, 6.2159) -> (6.3205, 6.9537)
  line L11 (-0.9173, 8.3498) -> (-1.0261, 9.3407)
  line L12 (-5.65, 6.2159) -> (-6.3205, 6.9537)
  line L13 (-8.2246, 1.7078) -> (-9.2007, 1.9105)
  line L14 (-7.6576, -3.4526) -> (-8.5665, -3.8624)
  line L15 (-4.1658, -7.2943) -> (-4.6602, -8.16)
  line L16 (0.9173, -8.3498) -> (1.0261, -9.3407)
  line L17 (5.65, -6.2159) -> (6.3205, -6.9537)
  line L18 (8.2246, -1.7078) -> (9.2007, -1.9105)
  line L19 (7.6576, 3.4526) -> (8.5665, 3.8624)
  line L20 (4.1658, 7.2943) -> (4.6602, 8.16)
  line L21 (-14.8388, 0) -> (14.8388, 0)
  line L22 (0, -14.8388) -> (0, 14.8388)
  circle A80 centre (0, 0) radius 2
  dimension "d32" = 4
extrude "Extrusion1" add sketch "Sketch1" along normal blind 5 contours A65 L6 A15 A16 A17 A74 A44 A43 A42 L15 A64 L5 A12 A13 A14 A73 A41 A40 A39 L14 A63 L4 A9 A10 A11 A72 L21 A80 L0 | L0 A80 L21 A77 A53 A52 A51 L18 A67 L8 A21 A22 A23 A76 A50 A49 A48 L17 A66 L7 A18 A19 A20 A75 A47 A46 A45 L16 A65 | L21 A72 A38 A37 A36 L13 A62 L3 A6 A7 A8 A71 A35 A34 A33 L12 A61 L2 A3 A4 A5 A70 A32 A31 A30 L11 A60 L0 A80 | A80 L0 A60 L1 A0 A1 A2 A79 A59 A58 A57 L20 A69 L10 A27 A28 A29 A78 A56 A55 A54 L19 A68 L9 A24 A25 A26 A77 L21
sketch "Sketch3" plane through (0, 0, 0) normal (0, 0, -1) x (-1, 0, 0)
  circle A0 centre (-12.1244, -7) radius 1.25
  circle A1 centre (12.1244, -7) radius 1.25
  circle A2 centre (0, 14) radius 1.25
  circle A3 centre (0, 0) radius 20.05 construction
  circle A4 centre (0, 0) radius 17.25 construction
  circle A5 centre (-12.1244, -7) radius 3.25 construction
  circle A6 centre (-12.1244, -7) radius 3
  circle A7 centre (12.1244, -7) radius 3
  circle A8 centre (0, 14) radius 3
  arc A9 (-1.6478, 16.5069) -> (-15.1193, -6.8264) centre (14.8304, -8.5623) ccw
  arc A10 (-13.4715, -9.6805) -> (13.4715, -9.6805) centre (0, 17.1247) ccw
  arc A11 (15.1193, -6.8264) -> (1.6478, 16.5069) centre (-14.8304, -8.5623) ccw
  circle A12 centre (0, 0) radius 2
  point P0 (15.1193, -6.8264)
  point P1 (1.6478, 16.5069)
  point P2 (-13.4715, -9.6805)
  point P3 (13.4715, -9.6805)
  dimension "d14" = 6
  dimension "d18" = 6
  dimension "d3" = 2.5
  dimension "d6" = 360
  dimension "d9" = 40.1
  dimension "d11" = 6.5
  dimension "d17" = 6
  dimension "d19" = 30
  dimension "d22" = 360
  dimension "d33" = 4
  dimension "d34" = 14
extrude "Extrusion2" add sketch "Sketch3" along normal blind 3
thread "Thread1" size "M3x0.5" class "6H" standard "ANSI Metric M Profile" full length
thread "Thread2" size "M3x0.5" class "6H" standard "ANSI Metric M Profile" full length
thread "Thread3" size "M3x0.5" class "6H" standard "ANSI Metric M Profile" full length
properties part number "多段ギアm2z10t8" material "アルミニウム 2014-T6"
